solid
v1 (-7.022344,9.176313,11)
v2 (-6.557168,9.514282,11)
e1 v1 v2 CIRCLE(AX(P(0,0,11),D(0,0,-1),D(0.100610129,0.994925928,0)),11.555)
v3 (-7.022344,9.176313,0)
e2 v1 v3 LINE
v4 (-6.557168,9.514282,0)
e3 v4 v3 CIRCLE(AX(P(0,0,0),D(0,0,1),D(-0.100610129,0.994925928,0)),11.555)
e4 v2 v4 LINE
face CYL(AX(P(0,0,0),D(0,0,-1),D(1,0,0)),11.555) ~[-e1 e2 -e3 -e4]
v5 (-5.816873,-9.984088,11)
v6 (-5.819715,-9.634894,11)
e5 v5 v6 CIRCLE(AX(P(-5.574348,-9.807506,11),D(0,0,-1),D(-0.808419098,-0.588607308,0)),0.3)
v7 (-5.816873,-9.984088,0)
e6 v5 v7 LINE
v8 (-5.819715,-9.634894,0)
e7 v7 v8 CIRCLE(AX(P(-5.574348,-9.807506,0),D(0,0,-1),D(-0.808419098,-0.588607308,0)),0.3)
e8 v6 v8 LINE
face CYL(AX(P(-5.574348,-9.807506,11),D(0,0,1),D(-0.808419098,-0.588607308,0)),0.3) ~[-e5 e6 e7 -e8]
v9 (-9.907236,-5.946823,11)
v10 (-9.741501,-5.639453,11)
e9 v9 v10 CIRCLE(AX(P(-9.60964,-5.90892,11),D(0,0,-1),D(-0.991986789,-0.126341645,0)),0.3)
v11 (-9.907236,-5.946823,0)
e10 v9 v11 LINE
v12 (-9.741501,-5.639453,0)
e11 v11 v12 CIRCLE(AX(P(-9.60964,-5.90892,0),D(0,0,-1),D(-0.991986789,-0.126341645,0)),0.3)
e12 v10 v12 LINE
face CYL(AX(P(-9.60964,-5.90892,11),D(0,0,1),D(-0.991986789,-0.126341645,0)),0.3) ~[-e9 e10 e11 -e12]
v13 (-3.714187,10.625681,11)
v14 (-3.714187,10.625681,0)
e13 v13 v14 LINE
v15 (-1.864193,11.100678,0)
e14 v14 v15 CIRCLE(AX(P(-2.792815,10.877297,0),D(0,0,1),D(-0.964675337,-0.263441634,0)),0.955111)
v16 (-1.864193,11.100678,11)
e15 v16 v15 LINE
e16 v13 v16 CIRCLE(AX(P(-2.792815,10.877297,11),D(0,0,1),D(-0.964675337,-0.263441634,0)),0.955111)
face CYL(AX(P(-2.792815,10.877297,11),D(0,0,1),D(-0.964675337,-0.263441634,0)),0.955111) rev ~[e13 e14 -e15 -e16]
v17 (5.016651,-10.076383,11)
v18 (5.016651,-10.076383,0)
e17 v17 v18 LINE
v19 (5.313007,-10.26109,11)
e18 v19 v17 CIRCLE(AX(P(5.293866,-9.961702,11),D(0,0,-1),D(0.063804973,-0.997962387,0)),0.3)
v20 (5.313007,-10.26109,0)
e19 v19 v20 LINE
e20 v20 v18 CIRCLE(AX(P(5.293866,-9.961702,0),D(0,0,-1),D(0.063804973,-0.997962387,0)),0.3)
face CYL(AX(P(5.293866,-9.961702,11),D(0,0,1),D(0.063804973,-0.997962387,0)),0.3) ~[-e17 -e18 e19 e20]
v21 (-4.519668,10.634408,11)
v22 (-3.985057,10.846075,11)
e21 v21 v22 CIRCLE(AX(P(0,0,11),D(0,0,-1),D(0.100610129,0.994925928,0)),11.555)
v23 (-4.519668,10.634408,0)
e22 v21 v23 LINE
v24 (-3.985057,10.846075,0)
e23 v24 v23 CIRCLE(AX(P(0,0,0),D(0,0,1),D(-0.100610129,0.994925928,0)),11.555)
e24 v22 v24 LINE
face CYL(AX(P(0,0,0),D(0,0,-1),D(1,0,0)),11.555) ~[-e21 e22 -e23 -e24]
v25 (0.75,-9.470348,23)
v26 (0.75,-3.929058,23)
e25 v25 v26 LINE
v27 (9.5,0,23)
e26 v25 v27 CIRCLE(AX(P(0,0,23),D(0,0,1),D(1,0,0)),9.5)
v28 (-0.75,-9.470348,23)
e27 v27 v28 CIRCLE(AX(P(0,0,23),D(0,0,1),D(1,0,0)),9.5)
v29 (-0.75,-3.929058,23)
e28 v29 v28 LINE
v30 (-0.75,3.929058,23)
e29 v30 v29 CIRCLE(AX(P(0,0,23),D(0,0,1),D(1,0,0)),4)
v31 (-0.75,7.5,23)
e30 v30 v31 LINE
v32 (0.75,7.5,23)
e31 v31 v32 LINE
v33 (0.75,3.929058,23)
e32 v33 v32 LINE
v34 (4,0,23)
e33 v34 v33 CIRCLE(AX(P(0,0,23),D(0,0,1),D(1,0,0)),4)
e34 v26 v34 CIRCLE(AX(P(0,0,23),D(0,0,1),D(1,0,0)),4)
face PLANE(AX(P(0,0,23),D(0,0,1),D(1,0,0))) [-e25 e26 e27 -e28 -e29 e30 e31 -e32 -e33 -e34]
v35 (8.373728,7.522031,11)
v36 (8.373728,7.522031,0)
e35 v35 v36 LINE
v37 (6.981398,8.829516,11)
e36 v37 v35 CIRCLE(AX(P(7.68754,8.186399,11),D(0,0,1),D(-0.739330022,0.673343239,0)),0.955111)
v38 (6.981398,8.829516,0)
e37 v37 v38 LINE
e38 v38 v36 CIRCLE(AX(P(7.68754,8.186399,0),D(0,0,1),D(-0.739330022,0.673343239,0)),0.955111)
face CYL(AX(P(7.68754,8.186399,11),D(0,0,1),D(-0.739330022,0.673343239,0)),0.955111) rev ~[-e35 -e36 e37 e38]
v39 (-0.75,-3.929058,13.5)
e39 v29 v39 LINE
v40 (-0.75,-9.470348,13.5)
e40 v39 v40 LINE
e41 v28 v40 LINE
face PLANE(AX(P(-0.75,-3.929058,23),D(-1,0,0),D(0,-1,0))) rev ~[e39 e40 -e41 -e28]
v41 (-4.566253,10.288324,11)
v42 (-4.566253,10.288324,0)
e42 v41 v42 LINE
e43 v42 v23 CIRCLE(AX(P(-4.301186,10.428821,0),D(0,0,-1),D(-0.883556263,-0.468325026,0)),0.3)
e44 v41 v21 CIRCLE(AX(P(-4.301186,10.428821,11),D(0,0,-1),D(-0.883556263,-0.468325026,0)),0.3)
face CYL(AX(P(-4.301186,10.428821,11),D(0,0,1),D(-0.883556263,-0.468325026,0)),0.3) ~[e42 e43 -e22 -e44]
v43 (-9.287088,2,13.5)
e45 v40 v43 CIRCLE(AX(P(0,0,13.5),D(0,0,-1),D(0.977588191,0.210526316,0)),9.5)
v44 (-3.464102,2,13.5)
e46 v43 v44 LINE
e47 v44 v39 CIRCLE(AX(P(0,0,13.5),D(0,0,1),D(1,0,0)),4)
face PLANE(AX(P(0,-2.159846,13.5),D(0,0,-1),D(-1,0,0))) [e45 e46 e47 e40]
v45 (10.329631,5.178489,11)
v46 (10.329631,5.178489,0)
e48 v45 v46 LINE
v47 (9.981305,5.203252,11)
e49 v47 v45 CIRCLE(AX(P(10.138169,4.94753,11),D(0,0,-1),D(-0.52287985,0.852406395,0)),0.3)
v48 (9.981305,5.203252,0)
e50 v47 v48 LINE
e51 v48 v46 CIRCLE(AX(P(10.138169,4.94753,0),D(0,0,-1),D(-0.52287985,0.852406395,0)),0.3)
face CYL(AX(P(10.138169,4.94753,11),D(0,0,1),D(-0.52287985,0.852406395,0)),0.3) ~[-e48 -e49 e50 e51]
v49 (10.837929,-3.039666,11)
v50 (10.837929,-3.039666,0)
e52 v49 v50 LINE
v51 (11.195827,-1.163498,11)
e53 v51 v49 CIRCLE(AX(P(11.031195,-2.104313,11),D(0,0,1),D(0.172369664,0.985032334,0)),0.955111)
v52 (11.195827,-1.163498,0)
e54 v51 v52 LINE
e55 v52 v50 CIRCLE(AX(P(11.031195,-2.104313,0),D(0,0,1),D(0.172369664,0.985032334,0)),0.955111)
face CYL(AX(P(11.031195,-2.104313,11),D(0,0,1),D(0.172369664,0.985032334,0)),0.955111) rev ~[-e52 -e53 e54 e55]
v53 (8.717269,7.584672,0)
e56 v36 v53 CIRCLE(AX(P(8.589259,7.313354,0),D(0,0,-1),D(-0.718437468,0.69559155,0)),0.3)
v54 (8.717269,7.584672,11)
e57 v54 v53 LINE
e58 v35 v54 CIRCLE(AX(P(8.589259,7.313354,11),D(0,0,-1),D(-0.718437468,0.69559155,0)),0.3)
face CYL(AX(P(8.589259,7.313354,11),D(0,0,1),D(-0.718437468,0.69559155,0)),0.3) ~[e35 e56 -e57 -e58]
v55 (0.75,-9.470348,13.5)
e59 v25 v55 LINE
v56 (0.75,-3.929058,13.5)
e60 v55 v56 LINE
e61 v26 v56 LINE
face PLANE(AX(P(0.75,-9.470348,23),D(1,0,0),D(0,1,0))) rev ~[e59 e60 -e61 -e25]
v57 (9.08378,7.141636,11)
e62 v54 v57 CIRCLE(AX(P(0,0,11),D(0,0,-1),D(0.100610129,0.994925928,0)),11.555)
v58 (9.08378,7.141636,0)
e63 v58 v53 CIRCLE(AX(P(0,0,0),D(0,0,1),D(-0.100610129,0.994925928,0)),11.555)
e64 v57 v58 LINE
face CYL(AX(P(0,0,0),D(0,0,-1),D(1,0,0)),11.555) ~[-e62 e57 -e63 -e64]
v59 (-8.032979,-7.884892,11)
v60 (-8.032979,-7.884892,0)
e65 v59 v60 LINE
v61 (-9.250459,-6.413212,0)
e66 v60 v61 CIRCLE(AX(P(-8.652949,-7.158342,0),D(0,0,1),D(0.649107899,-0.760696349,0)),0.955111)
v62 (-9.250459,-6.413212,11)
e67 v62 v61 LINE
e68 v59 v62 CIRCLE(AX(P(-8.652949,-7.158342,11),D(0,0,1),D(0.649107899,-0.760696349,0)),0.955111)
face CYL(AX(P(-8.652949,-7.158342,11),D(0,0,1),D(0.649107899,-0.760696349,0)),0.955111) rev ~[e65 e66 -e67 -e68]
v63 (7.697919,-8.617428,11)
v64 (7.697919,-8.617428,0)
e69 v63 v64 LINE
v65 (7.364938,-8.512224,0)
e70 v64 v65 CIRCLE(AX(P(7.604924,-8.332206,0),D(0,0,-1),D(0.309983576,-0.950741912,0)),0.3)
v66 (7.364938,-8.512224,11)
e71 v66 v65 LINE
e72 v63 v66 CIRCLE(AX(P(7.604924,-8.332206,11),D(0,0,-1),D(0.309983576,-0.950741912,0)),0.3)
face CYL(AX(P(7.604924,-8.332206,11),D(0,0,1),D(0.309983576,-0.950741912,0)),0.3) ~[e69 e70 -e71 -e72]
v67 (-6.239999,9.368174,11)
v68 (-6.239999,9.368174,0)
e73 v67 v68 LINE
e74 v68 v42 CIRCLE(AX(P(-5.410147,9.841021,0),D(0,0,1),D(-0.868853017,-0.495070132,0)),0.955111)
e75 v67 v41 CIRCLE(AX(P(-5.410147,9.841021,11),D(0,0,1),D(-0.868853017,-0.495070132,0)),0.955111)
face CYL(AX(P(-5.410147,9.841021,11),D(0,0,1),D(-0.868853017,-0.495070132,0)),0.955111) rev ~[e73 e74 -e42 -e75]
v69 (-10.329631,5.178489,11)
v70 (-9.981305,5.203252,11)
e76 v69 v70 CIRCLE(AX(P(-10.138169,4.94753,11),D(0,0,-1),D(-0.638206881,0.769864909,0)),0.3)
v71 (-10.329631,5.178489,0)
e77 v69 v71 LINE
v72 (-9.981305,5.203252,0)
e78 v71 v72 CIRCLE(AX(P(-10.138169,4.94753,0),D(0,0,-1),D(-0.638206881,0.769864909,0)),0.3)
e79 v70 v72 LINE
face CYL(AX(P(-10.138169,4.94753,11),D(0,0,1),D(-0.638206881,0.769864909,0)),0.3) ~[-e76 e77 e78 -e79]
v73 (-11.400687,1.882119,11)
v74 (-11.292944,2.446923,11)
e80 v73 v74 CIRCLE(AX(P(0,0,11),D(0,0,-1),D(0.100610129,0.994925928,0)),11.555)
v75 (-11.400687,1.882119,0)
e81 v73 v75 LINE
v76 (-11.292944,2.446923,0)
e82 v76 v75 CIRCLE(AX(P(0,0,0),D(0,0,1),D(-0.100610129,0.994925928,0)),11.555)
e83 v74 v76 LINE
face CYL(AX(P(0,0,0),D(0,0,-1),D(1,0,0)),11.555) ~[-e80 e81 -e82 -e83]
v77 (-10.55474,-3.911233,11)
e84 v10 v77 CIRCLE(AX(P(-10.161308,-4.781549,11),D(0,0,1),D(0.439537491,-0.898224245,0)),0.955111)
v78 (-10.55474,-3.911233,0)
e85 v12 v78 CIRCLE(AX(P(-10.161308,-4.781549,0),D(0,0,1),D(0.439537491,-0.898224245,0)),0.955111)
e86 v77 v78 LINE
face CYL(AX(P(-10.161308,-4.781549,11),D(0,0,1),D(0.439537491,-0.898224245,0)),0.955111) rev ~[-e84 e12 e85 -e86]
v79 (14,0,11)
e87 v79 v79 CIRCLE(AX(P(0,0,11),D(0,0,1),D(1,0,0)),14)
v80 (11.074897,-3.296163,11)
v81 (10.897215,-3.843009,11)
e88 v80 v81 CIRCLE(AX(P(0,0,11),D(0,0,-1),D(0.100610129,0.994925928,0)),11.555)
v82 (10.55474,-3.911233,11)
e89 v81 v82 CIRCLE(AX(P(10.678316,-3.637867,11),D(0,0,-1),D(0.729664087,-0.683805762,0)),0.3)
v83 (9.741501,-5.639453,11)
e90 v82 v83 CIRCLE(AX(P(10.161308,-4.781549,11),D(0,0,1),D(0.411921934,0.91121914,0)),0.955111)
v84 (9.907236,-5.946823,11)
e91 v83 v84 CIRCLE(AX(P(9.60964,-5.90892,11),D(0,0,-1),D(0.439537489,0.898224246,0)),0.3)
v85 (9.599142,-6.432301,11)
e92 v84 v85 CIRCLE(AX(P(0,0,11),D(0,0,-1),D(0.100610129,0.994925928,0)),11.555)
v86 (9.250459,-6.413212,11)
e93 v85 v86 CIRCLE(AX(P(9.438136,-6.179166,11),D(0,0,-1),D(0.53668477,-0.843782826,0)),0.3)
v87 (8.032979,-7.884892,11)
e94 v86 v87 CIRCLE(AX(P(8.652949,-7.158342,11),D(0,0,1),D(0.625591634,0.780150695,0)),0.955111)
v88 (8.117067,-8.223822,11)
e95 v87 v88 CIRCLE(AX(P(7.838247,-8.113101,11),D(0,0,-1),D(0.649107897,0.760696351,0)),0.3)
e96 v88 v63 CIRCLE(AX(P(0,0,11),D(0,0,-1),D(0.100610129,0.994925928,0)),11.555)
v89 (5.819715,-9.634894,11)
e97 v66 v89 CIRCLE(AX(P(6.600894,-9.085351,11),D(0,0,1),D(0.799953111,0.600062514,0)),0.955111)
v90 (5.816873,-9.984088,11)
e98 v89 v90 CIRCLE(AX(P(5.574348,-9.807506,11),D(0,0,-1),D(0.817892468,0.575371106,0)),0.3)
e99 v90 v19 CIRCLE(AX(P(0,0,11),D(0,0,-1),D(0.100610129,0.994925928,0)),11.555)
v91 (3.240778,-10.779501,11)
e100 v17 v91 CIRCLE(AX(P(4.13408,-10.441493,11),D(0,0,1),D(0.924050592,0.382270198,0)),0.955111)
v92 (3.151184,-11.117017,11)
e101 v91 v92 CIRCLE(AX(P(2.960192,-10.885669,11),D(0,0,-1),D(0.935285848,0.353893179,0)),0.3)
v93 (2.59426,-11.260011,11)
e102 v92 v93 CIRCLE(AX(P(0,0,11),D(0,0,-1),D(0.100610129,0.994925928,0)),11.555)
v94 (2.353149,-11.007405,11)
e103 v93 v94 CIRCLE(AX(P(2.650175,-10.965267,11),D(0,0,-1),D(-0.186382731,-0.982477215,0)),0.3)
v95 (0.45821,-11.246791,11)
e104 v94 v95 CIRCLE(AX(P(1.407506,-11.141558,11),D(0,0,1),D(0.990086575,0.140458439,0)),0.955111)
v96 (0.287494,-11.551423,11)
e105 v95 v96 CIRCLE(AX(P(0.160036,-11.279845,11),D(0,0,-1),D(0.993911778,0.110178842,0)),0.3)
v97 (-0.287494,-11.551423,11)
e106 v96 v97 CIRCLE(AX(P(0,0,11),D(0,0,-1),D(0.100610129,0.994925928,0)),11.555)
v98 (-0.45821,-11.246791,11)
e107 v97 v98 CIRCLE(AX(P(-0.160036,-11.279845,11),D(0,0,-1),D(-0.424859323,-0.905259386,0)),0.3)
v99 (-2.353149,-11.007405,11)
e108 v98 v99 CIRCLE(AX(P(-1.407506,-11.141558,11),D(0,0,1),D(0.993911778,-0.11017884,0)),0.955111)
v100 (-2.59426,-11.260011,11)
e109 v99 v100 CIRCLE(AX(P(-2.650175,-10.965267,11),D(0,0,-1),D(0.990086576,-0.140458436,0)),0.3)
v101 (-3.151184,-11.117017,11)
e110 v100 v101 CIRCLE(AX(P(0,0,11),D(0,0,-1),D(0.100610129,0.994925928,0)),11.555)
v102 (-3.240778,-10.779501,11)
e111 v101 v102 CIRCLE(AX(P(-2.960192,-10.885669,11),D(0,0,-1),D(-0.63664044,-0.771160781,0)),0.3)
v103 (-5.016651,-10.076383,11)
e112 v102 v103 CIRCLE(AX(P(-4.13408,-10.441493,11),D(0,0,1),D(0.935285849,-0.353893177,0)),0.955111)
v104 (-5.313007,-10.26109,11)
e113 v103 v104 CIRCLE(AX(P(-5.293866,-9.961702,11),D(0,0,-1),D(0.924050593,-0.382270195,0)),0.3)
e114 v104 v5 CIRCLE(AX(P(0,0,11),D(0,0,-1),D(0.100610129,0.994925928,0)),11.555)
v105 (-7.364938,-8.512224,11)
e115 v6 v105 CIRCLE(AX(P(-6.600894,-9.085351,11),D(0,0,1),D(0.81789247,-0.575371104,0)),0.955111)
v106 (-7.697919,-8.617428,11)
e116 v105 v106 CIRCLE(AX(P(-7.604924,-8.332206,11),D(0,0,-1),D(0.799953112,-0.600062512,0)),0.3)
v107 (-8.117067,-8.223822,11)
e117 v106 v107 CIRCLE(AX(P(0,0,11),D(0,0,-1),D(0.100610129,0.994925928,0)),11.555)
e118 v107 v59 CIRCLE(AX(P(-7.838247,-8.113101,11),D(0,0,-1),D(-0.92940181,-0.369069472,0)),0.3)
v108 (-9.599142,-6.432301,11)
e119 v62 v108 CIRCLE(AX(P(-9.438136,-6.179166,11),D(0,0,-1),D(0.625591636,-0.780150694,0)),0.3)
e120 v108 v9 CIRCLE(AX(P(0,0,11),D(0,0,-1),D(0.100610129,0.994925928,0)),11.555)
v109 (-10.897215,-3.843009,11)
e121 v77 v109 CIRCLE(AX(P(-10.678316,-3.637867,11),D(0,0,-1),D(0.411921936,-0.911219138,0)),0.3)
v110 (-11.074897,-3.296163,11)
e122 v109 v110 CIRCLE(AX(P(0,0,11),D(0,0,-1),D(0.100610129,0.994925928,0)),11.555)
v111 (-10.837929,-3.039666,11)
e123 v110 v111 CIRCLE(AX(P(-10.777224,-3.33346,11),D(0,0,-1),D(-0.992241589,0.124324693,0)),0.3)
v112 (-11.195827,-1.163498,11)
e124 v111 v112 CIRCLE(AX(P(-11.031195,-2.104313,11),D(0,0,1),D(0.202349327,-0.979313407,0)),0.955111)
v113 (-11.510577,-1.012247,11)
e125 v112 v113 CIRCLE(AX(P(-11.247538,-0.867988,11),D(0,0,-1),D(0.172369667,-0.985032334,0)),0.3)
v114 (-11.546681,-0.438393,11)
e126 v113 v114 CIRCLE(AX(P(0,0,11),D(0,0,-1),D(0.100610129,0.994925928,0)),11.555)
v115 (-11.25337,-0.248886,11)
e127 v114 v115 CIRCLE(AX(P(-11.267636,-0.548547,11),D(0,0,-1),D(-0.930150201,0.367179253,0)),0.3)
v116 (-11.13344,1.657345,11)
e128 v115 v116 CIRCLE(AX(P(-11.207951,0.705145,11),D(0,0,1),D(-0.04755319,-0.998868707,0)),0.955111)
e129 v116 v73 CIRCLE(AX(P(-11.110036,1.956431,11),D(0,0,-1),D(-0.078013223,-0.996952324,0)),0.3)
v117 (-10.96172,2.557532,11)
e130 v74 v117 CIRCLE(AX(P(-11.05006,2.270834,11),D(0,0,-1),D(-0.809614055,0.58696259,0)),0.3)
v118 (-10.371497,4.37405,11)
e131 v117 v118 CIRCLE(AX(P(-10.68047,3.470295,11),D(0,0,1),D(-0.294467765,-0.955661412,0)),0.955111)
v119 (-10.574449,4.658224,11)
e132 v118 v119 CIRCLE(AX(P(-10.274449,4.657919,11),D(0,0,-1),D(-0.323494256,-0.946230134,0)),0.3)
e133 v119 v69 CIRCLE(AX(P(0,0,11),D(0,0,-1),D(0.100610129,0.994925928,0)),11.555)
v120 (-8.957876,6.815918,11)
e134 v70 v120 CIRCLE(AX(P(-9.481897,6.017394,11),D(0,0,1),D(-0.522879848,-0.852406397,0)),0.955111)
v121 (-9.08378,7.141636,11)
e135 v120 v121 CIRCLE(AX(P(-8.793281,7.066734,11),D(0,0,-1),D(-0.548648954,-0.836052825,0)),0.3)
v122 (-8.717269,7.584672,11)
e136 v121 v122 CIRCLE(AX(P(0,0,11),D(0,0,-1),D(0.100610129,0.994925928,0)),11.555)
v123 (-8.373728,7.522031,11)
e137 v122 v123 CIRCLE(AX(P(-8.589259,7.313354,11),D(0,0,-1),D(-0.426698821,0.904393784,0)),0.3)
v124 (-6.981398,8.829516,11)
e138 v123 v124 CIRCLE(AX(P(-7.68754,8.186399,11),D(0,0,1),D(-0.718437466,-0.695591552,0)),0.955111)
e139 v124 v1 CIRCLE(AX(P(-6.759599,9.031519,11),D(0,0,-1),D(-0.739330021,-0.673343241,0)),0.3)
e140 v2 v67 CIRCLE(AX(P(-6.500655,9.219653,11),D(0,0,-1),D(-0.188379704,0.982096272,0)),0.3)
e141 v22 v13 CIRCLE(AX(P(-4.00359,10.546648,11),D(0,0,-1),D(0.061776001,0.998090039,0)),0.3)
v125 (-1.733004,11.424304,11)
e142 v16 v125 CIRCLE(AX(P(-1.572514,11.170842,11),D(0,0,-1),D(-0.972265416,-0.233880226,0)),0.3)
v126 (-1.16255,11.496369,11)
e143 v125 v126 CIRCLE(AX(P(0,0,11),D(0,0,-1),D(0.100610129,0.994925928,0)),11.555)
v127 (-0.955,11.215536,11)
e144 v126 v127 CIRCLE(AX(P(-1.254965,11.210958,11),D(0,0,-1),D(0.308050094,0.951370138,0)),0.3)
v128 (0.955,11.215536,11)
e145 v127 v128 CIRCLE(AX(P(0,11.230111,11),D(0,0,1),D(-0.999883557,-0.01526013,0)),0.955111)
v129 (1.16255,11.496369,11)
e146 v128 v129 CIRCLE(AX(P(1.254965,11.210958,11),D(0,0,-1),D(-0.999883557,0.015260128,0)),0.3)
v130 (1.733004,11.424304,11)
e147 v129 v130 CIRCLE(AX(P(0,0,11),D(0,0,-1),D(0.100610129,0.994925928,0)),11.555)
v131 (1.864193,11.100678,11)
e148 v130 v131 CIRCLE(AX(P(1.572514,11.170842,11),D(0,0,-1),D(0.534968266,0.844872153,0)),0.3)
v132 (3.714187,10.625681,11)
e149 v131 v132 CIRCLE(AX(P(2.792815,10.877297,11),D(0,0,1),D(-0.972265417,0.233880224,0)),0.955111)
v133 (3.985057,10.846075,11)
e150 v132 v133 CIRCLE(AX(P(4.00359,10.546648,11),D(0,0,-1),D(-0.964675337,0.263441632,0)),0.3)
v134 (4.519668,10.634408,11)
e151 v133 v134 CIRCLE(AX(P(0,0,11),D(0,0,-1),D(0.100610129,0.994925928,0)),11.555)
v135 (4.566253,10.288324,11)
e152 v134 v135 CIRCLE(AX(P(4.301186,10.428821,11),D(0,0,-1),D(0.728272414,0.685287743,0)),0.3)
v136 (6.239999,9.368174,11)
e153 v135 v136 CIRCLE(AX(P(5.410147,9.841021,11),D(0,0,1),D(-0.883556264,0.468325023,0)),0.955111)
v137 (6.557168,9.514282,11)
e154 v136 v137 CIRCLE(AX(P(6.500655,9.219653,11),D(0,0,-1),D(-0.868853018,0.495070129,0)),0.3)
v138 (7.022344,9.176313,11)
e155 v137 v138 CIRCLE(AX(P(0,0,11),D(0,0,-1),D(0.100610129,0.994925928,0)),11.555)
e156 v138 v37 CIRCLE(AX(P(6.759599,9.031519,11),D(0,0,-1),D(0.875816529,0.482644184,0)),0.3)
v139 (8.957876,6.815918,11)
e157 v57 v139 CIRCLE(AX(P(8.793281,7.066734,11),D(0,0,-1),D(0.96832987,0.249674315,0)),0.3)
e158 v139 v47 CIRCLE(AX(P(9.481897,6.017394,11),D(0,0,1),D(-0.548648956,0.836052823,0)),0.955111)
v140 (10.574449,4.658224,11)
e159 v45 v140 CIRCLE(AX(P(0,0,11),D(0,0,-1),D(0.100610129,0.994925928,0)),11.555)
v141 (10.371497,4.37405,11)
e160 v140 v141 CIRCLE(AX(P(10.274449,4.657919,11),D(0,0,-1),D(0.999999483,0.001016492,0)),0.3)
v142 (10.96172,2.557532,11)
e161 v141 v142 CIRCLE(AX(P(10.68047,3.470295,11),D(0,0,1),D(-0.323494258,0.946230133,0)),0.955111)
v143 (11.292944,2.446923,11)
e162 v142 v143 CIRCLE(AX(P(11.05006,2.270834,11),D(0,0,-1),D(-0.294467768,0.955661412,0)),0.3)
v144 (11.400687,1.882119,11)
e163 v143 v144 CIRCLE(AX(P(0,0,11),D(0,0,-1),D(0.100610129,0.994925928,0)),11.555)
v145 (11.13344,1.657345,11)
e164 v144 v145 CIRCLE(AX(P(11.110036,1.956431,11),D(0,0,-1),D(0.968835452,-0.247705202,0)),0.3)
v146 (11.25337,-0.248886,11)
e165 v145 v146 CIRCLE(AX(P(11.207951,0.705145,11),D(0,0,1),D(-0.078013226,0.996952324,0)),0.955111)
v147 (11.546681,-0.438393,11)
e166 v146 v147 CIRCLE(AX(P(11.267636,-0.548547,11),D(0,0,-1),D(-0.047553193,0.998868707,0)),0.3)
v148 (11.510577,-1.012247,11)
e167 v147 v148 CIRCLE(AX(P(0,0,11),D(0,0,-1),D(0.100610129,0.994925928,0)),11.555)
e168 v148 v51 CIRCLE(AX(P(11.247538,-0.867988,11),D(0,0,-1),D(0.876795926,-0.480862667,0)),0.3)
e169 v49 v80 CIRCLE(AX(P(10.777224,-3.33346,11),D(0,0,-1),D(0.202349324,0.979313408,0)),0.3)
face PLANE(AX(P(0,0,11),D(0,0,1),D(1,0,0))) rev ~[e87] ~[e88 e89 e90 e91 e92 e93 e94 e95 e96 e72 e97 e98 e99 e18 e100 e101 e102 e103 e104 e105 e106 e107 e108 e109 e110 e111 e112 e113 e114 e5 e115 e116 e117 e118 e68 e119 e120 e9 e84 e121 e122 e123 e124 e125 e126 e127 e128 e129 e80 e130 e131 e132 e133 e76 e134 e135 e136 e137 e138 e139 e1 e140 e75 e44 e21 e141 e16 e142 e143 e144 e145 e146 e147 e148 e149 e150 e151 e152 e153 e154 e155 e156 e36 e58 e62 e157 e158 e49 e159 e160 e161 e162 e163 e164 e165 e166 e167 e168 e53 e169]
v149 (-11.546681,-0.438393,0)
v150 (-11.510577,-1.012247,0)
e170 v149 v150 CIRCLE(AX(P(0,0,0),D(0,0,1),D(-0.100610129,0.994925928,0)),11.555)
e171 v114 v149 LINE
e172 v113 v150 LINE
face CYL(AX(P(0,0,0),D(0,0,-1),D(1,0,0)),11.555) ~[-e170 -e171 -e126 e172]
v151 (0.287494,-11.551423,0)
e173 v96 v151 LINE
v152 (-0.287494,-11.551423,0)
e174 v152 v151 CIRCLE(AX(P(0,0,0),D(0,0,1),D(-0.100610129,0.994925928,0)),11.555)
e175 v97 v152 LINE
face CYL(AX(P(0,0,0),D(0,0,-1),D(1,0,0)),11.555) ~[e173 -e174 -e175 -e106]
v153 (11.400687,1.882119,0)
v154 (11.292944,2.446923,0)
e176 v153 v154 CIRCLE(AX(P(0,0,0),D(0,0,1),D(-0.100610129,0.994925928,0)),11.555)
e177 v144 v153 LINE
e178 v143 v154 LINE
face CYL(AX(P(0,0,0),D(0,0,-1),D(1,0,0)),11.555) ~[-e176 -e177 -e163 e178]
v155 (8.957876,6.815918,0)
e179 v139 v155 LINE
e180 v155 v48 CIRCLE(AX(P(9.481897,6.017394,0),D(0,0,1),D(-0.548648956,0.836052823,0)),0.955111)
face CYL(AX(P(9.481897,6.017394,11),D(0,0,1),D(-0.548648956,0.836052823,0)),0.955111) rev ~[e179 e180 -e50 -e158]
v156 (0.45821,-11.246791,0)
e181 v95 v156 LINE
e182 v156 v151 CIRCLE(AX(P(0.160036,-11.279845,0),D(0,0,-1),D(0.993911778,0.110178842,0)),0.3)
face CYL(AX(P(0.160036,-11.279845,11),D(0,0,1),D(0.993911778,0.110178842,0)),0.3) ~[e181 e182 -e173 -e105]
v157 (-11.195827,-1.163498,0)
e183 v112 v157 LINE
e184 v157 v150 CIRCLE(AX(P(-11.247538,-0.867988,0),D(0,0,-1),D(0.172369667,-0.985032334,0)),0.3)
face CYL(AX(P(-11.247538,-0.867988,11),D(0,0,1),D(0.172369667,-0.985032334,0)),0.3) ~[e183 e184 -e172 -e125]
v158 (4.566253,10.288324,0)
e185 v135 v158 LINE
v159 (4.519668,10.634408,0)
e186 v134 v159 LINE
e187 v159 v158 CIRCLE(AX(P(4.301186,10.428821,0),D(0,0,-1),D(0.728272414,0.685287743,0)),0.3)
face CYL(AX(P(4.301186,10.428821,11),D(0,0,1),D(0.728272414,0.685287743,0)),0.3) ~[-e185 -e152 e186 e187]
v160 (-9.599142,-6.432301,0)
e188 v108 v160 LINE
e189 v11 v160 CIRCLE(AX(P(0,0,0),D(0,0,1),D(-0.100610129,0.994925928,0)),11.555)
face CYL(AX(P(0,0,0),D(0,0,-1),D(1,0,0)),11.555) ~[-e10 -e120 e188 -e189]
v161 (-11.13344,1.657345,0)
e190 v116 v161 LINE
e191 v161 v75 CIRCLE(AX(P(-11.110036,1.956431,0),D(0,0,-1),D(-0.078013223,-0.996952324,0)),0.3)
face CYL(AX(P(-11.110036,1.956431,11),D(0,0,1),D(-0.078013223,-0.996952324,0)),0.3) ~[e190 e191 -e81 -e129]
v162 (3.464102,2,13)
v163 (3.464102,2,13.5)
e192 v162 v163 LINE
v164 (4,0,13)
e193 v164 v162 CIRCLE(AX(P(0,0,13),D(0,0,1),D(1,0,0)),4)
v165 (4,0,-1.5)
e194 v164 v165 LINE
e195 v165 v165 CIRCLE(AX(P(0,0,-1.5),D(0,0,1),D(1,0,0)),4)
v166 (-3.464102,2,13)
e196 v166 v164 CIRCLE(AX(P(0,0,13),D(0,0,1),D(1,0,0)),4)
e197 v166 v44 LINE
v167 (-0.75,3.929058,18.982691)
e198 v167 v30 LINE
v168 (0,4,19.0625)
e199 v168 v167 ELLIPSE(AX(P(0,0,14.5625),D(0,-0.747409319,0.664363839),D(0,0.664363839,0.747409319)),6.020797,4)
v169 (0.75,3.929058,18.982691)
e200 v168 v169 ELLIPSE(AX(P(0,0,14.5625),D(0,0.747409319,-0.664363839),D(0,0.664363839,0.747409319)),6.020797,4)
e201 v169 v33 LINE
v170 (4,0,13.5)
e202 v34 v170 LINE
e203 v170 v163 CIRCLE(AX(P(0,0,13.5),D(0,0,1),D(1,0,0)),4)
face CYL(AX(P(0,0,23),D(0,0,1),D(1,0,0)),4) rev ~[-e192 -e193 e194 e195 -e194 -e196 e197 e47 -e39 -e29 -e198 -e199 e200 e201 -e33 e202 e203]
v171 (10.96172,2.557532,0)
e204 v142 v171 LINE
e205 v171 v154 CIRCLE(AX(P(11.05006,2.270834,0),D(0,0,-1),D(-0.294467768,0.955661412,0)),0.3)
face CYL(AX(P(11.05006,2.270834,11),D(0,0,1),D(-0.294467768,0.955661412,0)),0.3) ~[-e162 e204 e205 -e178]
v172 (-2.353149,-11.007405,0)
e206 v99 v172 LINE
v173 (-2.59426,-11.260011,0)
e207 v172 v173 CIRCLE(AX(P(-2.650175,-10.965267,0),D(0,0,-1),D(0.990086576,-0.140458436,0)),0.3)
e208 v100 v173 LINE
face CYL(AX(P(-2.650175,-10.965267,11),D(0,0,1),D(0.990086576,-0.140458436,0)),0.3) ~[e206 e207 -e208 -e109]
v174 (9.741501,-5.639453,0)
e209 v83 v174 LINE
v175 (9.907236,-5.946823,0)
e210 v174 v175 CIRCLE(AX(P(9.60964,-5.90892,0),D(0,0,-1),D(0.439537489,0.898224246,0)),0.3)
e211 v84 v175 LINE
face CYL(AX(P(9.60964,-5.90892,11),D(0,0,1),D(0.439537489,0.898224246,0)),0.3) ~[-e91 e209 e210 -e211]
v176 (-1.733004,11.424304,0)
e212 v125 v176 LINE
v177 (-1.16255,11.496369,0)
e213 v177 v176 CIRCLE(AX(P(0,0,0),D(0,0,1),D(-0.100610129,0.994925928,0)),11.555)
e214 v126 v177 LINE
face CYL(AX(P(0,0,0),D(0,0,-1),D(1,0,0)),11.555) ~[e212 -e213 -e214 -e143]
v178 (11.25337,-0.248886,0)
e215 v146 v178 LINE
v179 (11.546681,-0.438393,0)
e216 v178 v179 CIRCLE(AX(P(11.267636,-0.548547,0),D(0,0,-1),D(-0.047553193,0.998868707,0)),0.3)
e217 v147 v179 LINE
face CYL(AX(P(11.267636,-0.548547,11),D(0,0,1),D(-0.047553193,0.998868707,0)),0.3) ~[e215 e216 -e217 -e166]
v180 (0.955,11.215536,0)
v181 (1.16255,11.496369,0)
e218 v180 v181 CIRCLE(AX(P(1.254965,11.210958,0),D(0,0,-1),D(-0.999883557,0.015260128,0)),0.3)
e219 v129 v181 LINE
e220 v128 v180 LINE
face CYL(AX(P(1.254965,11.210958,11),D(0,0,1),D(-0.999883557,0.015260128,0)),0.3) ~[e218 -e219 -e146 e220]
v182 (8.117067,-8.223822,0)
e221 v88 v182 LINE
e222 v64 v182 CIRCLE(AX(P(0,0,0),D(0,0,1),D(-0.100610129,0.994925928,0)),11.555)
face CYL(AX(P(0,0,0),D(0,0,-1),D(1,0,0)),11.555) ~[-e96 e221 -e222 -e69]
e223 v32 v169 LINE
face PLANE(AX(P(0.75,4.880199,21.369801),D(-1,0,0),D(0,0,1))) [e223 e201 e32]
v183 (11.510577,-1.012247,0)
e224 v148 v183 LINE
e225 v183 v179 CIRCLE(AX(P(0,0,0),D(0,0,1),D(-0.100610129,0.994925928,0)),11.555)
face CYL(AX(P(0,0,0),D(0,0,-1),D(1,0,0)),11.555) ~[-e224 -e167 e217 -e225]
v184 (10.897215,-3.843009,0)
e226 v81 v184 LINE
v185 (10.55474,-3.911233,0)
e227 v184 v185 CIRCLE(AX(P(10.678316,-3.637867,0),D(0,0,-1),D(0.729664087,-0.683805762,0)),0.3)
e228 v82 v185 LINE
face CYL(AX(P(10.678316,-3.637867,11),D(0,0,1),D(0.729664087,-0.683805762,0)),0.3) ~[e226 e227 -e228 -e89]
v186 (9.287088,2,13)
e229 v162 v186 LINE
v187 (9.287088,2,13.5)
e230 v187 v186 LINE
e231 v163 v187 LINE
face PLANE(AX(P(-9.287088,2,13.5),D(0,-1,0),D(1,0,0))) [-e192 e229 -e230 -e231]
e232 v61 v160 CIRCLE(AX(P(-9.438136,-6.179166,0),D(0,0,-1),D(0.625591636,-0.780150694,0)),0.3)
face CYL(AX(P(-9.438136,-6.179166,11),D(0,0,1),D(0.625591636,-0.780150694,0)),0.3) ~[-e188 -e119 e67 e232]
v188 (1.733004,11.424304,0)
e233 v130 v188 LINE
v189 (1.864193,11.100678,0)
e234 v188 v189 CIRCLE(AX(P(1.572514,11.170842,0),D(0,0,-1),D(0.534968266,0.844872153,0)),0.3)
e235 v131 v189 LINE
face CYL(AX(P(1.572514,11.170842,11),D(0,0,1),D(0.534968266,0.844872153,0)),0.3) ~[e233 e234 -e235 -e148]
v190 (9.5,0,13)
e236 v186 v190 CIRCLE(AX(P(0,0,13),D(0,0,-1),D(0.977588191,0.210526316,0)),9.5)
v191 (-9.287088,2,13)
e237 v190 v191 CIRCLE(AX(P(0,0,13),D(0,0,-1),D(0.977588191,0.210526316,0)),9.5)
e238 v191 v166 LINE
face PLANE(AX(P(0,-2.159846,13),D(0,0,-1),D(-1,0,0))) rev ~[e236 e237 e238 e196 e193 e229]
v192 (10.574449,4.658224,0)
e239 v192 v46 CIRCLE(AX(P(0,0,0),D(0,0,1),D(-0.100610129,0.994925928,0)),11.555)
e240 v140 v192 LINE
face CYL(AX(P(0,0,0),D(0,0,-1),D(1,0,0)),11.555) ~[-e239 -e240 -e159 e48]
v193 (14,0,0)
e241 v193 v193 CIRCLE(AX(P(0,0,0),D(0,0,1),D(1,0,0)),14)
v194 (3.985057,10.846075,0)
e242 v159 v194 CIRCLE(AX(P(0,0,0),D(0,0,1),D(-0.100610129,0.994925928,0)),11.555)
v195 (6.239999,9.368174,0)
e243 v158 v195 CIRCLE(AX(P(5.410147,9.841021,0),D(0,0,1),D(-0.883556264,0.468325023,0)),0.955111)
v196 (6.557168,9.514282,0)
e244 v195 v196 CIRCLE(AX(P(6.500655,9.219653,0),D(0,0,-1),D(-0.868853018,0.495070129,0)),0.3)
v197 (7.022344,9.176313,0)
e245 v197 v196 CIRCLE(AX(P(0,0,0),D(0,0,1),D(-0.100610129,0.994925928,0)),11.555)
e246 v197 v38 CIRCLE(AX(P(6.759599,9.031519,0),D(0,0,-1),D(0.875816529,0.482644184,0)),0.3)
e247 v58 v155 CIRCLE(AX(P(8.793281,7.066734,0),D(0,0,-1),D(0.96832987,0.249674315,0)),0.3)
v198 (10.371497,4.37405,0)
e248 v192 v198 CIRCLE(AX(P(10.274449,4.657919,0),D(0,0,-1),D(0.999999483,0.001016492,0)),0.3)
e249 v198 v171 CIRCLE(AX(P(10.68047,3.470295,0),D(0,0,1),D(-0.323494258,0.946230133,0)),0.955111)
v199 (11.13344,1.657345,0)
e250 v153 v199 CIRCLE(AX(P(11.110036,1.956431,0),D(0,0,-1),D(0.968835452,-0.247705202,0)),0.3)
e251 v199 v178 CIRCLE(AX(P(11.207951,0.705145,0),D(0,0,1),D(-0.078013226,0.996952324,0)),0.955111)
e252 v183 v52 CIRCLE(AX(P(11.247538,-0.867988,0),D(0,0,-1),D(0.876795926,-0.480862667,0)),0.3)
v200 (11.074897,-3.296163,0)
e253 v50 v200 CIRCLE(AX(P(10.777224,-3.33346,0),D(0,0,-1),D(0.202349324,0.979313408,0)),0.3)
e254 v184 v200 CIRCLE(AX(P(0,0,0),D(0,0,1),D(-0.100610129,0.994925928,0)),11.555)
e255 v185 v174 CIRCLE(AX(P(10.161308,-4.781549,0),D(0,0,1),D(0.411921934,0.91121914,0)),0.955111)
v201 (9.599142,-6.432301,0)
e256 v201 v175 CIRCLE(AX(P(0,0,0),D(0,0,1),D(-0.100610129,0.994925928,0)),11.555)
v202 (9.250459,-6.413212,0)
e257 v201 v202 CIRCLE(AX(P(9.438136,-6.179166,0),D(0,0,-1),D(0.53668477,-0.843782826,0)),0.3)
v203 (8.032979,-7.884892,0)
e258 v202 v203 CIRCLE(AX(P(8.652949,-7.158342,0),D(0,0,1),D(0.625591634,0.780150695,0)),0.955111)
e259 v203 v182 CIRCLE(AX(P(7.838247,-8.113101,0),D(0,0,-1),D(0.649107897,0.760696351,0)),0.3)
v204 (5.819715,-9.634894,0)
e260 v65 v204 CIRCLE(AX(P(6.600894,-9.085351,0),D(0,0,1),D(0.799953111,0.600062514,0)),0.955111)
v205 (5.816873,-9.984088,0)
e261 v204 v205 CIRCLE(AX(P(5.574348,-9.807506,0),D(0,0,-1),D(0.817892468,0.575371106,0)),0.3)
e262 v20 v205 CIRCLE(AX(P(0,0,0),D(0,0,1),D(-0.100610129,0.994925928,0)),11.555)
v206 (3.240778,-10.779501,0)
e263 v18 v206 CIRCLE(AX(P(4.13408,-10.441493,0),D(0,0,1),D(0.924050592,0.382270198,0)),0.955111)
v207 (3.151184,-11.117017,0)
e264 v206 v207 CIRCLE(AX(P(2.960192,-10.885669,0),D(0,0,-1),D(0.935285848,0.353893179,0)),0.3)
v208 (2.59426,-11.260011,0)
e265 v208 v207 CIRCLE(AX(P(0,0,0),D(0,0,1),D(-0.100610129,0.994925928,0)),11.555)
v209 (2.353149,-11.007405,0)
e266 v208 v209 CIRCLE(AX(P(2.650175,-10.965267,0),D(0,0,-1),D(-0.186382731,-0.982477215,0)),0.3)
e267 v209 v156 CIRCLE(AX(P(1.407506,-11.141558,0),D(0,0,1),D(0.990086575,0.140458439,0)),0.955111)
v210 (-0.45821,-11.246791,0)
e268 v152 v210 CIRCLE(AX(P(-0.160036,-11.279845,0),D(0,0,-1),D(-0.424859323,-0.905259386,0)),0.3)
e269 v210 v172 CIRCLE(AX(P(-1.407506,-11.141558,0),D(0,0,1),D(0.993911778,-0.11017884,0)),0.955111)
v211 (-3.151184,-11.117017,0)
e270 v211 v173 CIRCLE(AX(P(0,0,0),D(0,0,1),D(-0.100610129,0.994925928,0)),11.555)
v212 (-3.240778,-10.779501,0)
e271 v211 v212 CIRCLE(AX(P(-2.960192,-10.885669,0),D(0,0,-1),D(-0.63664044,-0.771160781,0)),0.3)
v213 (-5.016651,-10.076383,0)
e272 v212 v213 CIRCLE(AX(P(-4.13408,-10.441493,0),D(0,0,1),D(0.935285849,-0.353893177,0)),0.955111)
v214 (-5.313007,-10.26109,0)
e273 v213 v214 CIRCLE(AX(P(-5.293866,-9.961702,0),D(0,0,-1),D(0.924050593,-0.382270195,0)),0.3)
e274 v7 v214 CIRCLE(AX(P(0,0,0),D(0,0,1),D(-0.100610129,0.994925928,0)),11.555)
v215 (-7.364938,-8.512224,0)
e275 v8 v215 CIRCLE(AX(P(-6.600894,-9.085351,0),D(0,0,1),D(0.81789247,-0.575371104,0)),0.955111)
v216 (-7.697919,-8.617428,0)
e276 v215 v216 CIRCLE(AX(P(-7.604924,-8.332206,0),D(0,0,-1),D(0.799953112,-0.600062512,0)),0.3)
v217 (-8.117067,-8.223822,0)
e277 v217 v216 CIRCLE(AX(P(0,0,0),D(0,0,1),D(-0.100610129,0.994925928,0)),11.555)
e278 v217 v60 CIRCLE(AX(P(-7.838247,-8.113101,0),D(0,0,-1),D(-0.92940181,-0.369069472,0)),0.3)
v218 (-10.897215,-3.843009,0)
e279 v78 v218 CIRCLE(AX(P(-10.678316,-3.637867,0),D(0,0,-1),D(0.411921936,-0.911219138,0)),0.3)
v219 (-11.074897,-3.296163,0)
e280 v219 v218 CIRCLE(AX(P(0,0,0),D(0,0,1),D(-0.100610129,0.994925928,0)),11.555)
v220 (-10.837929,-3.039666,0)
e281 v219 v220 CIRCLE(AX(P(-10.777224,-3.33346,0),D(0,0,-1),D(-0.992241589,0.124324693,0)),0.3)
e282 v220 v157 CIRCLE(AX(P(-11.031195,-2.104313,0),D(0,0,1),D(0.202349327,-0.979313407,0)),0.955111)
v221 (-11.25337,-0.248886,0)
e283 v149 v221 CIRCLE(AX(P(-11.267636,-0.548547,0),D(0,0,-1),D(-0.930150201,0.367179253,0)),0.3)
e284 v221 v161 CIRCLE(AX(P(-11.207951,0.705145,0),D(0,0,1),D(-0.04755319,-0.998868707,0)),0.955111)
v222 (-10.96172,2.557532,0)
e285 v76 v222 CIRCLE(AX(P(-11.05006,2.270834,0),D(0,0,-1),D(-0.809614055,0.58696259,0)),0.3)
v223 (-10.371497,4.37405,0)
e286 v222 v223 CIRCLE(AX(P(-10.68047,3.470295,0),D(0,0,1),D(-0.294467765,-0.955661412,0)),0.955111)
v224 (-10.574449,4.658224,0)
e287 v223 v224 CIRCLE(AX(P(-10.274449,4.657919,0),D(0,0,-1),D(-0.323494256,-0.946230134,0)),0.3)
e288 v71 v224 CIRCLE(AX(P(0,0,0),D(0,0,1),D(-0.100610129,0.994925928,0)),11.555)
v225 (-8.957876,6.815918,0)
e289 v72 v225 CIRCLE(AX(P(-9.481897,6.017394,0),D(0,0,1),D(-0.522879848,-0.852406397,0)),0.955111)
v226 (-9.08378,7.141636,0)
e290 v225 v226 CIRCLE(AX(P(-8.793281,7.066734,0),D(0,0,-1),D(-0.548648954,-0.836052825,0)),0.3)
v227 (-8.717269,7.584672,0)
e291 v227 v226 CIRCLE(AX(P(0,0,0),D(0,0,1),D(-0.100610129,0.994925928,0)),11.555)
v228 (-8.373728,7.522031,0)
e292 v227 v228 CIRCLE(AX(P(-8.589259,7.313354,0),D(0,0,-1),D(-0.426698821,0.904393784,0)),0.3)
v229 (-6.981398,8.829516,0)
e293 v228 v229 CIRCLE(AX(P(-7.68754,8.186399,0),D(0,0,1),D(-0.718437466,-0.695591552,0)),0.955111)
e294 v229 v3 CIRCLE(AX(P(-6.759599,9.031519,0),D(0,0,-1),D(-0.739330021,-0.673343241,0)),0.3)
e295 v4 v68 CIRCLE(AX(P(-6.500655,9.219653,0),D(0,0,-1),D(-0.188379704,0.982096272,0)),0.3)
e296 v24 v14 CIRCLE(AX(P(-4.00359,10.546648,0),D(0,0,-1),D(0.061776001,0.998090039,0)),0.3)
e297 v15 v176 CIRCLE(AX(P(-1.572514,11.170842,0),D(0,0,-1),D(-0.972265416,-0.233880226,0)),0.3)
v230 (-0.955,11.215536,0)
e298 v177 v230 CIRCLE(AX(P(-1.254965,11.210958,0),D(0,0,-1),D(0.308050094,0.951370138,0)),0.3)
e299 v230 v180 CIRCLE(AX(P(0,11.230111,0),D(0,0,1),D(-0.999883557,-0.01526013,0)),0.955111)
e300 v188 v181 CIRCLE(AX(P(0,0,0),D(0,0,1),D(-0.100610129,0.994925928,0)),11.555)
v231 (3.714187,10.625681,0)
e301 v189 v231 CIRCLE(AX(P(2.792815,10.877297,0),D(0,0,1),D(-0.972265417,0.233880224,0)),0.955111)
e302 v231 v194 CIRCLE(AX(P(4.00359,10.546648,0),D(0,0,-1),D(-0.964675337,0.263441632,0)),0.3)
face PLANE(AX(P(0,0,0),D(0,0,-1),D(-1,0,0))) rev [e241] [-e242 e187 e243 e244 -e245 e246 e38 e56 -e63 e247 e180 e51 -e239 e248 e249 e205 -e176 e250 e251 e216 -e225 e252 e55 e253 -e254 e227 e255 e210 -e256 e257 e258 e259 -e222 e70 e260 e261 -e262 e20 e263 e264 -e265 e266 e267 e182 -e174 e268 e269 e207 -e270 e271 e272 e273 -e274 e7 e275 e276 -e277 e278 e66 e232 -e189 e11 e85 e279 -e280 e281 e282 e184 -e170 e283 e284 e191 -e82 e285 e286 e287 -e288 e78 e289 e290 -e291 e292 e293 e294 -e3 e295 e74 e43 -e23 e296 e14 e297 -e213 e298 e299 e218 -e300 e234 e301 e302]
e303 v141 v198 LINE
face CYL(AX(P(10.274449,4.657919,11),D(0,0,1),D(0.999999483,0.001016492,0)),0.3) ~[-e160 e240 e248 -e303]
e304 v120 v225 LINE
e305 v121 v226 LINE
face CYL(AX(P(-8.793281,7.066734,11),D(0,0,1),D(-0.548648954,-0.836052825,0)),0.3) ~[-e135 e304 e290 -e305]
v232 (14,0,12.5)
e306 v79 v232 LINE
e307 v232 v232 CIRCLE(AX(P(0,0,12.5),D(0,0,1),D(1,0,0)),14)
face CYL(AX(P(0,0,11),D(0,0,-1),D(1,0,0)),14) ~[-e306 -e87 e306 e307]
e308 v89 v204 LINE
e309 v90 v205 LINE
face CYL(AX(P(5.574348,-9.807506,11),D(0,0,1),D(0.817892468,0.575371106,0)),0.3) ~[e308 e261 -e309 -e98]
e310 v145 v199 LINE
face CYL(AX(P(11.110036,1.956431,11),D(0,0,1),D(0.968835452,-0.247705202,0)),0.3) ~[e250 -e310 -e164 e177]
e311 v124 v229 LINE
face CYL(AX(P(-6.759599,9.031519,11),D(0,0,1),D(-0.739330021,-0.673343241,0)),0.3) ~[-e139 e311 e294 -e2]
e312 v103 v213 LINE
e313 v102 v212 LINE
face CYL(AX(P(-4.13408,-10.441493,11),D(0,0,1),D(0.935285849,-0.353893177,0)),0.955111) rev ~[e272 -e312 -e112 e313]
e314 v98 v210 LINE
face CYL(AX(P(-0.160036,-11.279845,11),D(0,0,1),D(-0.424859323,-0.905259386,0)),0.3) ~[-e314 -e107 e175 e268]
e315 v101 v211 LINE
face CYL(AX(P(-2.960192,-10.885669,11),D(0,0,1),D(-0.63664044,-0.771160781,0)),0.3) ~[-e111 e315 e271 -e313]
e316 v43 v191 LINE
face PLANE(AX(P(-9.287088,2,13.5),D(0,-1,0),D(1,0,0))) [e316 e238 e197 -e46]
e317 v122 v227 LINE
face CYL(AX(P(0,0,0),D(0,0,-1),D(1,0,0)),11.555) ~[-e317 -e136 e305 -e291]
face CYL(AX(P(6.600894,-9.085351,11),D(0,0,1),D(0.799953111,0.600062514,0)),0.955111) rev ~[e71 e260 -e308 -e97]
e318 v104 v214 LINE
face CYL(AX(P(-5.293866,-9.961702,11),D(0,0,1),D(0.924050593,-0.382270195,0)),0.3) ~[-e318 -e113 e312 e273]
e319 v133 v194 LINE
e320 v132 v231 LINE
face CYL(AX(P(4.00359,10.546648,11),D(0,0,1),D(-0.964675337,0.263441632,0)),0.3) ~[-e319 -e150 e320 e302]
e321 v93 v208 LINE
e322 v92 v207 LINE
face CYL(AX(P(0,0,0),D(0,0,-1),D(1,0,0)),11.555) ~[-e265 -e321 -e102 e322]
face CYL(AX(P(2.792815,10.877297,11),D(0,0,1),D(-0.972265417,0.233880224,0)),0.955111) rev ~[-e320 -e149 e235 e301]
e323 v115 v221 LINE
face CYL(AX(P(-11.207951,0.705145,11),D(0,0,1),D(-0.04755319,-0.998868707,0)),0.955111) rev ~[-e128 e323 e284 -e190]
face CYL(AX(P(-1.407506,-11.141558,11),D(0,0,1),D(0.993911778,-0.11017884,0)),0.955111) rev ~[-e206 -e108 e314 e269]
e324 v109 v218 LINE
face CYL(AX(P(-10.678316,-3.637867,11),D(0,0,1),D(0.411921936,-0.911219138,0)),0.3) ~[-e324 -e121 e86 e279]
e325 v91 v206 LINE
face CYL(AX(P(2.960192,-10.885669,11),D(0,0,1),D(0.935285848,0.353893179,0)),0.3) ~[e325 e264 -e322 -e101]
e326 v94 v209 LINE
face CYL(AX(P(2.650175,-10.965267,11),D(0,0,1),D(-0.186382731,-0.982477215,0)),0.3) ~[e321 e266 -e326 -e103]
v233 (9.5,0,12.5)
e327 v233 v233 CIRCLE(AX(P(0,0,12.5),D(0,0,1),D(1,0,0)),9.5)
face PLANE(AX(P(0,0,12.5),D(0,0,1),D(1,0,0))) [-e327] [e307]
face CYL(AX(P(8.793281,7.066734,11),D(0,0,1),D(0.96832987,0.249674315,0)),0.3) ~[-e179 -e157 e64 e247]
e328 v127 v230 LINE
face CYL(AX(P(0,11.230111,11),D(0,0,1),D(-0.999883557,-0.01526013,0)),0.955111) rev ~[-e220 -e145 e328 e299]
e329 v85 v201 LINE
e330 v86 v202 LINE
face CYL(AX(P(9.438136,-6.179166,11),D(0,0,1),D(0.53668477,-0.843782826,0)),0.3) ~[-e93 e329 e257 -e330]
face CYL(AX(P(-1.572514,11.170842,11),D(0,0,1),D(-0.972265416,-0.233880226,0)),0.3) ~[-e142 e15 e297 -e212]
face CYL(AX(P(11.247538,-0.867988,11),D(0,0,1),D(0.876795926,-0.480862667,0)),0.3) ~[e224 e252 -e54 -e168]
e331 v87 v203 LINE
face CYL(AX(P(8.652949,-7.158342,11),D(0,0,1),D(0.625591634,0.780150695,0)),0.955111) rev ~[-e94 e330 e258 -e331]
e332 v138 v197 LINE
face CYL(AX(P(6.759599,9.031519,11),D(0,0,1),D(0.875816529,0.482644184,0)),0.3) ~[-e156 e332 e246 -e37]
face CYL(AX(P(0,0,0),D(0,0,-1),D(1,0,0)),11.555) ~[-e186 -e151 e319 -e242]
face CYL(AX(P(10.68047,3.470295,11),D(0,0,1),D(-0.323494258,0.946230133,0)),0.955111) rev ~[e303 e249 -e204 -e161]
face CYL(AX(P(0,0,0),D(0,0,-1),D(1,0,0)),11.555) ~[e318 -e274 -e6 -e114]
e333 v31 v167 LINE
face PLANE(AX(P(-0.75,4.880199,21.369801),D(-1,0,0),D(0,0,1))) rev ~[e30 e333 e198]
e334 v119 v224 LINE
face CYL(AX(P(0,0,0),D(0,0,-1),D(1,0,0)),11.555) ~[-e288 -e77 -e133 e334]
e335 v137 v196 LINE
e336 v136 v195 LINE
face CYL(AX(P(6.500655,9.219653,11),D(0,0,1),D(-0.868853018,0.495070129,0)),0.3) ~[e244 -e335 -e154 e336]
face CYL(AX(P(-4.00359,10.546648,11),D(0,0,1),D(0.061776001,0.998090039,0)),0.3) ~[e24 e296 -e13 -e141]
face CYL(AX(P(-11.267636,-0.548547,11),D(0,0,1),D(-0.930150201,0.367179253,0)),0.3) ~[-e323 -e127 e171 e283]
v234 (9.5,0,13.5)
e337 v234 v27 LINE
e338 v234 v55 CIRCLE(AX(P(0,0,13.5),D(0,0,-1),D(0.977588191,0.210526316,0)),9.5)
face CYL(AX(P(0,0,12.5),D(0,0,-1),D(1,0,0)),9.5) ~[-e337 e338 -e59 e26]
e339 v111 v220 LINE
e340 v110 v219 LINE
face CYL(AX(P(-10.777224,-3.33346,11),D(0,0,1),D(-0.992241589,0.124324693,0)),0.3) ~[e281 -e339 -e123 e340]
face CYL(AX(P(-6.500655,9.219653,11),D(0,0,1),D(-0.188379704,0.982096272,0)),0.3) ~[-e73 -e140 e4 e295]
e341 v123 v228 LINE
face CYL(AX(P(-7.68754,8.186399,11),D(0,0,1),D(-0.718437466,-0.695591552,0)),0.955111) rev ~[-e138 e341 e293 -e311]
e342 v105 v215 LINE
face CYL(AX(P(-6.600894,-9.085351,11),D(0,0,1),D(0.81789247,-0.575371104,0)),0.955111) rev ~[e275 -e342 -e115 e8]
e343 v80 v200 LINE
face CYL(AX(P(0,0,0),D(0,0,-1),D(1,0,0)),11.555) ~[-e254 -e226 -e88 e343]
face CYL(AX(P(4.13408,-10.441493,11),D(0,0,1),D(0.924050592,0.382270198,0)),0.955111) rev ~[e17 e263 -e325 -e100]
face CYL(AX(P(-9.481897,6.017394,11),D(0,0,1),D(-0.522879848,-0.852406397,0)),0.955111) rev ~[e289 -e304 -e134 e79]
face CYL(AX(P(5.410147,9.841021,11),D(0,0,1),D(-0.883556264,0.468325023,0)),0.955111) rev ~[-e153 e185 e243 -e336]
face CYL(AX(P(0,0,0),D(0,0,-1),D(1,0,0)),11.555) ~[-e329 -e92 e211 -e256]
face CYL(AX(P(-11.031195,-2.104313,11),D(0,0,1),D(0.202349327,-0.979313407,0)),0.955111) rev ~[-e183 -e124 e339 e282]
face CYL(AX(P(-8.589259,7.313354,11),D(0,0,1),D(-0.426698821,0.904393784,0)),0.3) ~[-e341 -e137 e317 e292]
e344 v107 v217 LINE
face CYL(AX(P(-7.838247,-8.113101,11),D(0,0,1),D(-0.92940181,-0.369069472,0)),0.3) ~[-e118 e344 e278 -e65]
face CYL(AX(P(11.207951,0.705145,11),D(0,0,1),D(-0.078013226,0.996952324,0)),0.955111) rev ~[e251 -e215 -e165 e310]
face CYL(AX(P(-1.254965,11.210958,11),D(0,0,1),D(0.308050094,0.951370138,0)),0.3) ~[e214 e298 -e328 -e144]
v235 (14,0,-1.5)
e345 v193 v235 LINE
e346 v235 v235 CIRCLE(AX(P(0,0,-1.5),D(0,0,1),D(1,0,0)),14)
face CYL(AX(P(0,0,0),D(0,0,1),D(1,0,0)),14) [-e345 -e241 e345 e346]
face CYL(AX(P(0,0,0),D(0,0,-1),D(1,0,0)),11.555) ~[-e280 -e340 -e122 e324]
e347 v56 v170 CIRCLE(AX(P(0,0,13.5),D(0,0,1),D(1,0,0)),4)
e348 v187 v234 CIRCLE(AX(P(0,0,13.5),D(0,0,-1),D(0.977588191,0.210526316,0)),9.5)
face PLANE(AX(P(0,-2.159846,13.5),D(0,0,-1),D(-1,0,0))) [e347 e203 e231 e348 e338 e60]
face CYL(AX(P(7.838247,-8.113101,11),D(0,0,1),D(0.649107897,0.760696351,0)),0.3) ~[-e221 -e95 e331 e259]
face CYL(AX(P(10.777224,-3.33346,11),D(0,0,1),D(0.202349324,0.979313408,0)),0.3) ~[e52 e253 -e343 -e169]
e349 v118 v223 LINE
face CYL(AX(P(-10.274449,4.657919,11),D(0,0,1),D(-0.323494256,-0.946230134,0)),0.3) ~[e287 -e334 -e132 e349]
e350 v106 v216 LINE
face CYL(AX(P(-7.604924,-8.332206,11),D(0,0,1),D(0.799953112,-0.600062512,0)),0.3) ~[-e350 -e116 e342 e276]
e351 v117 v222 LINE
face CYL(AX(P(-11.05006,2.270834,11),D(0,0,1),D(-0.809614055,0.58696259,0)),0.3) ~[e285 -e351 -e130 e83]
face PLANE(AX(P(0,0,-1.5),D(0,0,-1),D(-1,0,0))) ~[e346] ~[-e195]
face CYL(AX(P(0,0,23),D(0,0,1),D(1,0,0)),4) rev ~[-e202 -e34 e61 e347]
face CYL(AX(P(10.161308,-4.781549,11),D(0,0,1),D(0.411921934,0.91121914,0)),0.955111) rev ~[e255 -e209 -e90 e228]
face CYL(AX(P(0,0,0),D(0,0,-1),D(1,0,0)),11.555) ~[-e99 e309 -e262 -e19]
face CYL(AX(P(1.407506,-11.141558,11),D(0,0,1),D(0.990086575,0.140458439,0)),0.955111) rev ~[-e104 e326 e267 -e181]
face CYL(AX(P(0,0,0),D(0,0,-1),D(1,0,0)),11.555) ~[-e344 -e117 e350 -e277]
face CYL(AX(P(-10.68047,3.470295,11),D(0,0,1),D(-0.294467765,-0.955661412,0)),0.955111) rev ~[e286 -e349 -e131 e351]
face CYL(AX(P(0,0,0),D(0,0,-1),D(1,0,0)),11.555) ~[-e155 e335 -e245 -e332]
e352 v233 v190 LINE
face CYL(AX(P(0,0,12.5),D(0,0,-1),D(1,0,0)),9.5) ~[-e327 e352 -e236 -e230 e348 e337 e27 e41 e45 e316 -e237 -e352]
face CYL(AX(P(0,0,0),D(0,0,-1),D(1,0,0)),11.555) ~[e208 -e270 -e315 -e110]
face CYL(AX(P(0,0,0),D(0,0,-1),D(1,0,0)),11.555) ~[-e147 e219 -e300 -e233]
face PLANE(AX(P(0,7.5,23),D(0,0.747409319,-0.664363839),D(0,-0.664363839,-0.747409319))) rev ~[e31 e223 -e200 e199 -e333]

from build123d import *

# Parameters (mm, degrees)
SKETCH_1_R               = 11.555
EXTRUDE_1_DEPTH          = 11
CUT_EXTRUDE_1_REACH      = 21.699
PATTERN_CIRCULAR_1_COUNT = 25
SKETCH_3_R               = 14
EXTRUDE_2_DEPTH          = 1.5
SKETCH_4_R               = 9.5
EXTRUDE_3_DEPTH          = 10.5
CUT_EXTRUDE_START        = -10
CUT_EXTRUDE_2_DEPTH      = 0.5
CUT_EXTRUDE_3_REACH      = 33.5
SKETCH_6_R               = 4
CUT_EXTRUDE_4_REACH      = 33.5
CUT_EXTRUDE_6_DEPTH      = 0.75
CUT_EXTRUDE_6_DEPTH_BACK = 0.75


with BuildPart() as part:
    # 草圖1 → 填料-伸長1 (new body)
    with BuildSketch(Plane.XY):
        Circle(SKETCH_1_R)
    extrude(amount=EXTRUDE_1_DEPTH)

    # 草圖2 → 除料-伸長1 (cut, up to next)
    with BuildSketch(Plane.XY.offset(11), mode=Mode.PRIVATE) as cut_extrude_1_sk1:
        with BuildLine():
            ThreePointArc((1.162550039, 11.496369097), (0, 11.555), (-1.162550039, 11.496369097))
            ThreePointArc((-1.162550039, 11.496369097), (-1.013703117, 11.389263051), (-0.955, 11.215536094))
            ThreePointArc((-0.955, 11.215536094), (0, 10.275), (0.955, 11.215536094))
            ThreePointArc((0.955, 11.215536094), (1.013703117, 11.389263051), (1.162550039, 11.496369097))
        make_face()
    cut_extrude_1_tool1 = extrude(cut_extrude_1_sk1.sketch, amount=-CUT_EXTRUDE_1_REACH, mode=Mode.PRIVATE) & part.part
    cut_extrude_1 = cut_extrude_1_tool1.solids().sort_by_distance((0, 10.99734, 11))[0]
    add(cut_extrude_1, mode=Mode.SUBTRACT)

    # 環狀複製排列1: 除料-伸長1 ×25 about axis
    pattern_circular_1_axis = Axis((0, 0, 11), (0, 0, 1))
    for i in range(1, PATTERN_CIRCULAR_1_COUNT):
        add(cut_extrude_1.rotate(pattern_circular_1_axis, i * 360 / PATTERN_CIRCULAR_1_COUNT), mode=Mode.SUBTRACT)

    # 草圖3 → 填料-伸長2 (add)
    with BuildSketch(Plane.XY.offset(11)):
        Circle(SKETCH_3_R)
    extrude_2 = extrude(amount=EXTRUDE_2_DEPTH)

    # 鏡射1: 填料-伸長2 across plane
    add(extrude_2.mirror(Plane(origin=(0, 0, 5.5), x_dir=(1, 0, 0), z_dir=(0, 0, -1))))

    # 草圖4 → 填料-伸長3 (add)
    with BuildSketch(Plane.XY.offset(12.5)):
        Circle(SKETCH_4_R)
    extrude(amount=EXTRUDE_3_DEPTH)

    # 草圖5 → 除料-伸長2 (cut)
    with BuildSketch(Plane.XY.offset(23).offset(CUT_EXTRUDE_START)):
        with BuildLine():
            Line((-9.287087811, 2), (9.287087811, 2))
            ThreePointArc((9.287087811, 2), (0, -9.5), (-9.287087811, 2))
        make_face()
    extrude(amount=CUT_EXTRUDE_2_DEPTH, mode=Mode.SUBTRACT)

    # 草圖6 → 除料-伸長3 (cut, up to next)
    with BuildSketch(Plane.XY.offset(23), mode=Mode.PRIVATE) as cut_extrude_3_sk1:
        Circle(SKETCH_6_R)
    cut_extrude_3_tool1 = extrude(cut_extrude_3_sk1.sketch, amount=-CUT_EXTRUDE_3_REACH, mode=Mode.PRIVATE) & part.part
    add(cut_extrude_3_tool1.solids().sort_by_distance((0, 0, 23))[0], mode=Mode.SUBTRACT)

    # 草圖7 → 除料-伸長4 (cut, up to next)
    with BuildSketch(Plane.XY.offset(23), mode=Mode.PRIVATE) as cut_extrude_4_sk1:
        with BuildLine():
            Line((-0.75, -3.929058411), (-0.75, -9.470348462))
            ThreePointArc((-0.75, -9.470348462), (0, -9.5), (0.75, -9.470348462))
            Line((0.75, -9.470348462), (0.75, -3.929058411))
            ThreePointArc((0.75, -3.929058411), (0, -4), (-0.75, -3.929058411))
        make_face()
    cut_extrude_4_tool1 = extrude(cut_extrude_4_sk1.sketch, amount=-CUT_EXTRUDE_4_REACH, mode=Mode.PRIVATE) & part.part
    add(cut_extrude_4_tool1.solids().sort_by_distance((0, -6.733246, 23))[0], mode=Mode.SUBTRACT)

    # 草圖8 → 除料-伸長6 (cut, two sides: drawn at the far end of the back side and taken through both)
    with BuildSketch(Plane(origin=(0, 0, 0), x_dir=(0, 0, -1), z_dir=(1, 0, 0)).offset(-CUT_EXTRUDE_6_DEPTH_BACK)):
        Polygon((-23, 7.5), (-18.5, 3.5), (-23, 3.5), align=None)
    extrude(amount=CUT_EXTRUDE_6_DEPTH + CUT_EXTRUDE_6_DEPTH_BACK, mode=Mode.SUBTRACT)


solid = part.part
